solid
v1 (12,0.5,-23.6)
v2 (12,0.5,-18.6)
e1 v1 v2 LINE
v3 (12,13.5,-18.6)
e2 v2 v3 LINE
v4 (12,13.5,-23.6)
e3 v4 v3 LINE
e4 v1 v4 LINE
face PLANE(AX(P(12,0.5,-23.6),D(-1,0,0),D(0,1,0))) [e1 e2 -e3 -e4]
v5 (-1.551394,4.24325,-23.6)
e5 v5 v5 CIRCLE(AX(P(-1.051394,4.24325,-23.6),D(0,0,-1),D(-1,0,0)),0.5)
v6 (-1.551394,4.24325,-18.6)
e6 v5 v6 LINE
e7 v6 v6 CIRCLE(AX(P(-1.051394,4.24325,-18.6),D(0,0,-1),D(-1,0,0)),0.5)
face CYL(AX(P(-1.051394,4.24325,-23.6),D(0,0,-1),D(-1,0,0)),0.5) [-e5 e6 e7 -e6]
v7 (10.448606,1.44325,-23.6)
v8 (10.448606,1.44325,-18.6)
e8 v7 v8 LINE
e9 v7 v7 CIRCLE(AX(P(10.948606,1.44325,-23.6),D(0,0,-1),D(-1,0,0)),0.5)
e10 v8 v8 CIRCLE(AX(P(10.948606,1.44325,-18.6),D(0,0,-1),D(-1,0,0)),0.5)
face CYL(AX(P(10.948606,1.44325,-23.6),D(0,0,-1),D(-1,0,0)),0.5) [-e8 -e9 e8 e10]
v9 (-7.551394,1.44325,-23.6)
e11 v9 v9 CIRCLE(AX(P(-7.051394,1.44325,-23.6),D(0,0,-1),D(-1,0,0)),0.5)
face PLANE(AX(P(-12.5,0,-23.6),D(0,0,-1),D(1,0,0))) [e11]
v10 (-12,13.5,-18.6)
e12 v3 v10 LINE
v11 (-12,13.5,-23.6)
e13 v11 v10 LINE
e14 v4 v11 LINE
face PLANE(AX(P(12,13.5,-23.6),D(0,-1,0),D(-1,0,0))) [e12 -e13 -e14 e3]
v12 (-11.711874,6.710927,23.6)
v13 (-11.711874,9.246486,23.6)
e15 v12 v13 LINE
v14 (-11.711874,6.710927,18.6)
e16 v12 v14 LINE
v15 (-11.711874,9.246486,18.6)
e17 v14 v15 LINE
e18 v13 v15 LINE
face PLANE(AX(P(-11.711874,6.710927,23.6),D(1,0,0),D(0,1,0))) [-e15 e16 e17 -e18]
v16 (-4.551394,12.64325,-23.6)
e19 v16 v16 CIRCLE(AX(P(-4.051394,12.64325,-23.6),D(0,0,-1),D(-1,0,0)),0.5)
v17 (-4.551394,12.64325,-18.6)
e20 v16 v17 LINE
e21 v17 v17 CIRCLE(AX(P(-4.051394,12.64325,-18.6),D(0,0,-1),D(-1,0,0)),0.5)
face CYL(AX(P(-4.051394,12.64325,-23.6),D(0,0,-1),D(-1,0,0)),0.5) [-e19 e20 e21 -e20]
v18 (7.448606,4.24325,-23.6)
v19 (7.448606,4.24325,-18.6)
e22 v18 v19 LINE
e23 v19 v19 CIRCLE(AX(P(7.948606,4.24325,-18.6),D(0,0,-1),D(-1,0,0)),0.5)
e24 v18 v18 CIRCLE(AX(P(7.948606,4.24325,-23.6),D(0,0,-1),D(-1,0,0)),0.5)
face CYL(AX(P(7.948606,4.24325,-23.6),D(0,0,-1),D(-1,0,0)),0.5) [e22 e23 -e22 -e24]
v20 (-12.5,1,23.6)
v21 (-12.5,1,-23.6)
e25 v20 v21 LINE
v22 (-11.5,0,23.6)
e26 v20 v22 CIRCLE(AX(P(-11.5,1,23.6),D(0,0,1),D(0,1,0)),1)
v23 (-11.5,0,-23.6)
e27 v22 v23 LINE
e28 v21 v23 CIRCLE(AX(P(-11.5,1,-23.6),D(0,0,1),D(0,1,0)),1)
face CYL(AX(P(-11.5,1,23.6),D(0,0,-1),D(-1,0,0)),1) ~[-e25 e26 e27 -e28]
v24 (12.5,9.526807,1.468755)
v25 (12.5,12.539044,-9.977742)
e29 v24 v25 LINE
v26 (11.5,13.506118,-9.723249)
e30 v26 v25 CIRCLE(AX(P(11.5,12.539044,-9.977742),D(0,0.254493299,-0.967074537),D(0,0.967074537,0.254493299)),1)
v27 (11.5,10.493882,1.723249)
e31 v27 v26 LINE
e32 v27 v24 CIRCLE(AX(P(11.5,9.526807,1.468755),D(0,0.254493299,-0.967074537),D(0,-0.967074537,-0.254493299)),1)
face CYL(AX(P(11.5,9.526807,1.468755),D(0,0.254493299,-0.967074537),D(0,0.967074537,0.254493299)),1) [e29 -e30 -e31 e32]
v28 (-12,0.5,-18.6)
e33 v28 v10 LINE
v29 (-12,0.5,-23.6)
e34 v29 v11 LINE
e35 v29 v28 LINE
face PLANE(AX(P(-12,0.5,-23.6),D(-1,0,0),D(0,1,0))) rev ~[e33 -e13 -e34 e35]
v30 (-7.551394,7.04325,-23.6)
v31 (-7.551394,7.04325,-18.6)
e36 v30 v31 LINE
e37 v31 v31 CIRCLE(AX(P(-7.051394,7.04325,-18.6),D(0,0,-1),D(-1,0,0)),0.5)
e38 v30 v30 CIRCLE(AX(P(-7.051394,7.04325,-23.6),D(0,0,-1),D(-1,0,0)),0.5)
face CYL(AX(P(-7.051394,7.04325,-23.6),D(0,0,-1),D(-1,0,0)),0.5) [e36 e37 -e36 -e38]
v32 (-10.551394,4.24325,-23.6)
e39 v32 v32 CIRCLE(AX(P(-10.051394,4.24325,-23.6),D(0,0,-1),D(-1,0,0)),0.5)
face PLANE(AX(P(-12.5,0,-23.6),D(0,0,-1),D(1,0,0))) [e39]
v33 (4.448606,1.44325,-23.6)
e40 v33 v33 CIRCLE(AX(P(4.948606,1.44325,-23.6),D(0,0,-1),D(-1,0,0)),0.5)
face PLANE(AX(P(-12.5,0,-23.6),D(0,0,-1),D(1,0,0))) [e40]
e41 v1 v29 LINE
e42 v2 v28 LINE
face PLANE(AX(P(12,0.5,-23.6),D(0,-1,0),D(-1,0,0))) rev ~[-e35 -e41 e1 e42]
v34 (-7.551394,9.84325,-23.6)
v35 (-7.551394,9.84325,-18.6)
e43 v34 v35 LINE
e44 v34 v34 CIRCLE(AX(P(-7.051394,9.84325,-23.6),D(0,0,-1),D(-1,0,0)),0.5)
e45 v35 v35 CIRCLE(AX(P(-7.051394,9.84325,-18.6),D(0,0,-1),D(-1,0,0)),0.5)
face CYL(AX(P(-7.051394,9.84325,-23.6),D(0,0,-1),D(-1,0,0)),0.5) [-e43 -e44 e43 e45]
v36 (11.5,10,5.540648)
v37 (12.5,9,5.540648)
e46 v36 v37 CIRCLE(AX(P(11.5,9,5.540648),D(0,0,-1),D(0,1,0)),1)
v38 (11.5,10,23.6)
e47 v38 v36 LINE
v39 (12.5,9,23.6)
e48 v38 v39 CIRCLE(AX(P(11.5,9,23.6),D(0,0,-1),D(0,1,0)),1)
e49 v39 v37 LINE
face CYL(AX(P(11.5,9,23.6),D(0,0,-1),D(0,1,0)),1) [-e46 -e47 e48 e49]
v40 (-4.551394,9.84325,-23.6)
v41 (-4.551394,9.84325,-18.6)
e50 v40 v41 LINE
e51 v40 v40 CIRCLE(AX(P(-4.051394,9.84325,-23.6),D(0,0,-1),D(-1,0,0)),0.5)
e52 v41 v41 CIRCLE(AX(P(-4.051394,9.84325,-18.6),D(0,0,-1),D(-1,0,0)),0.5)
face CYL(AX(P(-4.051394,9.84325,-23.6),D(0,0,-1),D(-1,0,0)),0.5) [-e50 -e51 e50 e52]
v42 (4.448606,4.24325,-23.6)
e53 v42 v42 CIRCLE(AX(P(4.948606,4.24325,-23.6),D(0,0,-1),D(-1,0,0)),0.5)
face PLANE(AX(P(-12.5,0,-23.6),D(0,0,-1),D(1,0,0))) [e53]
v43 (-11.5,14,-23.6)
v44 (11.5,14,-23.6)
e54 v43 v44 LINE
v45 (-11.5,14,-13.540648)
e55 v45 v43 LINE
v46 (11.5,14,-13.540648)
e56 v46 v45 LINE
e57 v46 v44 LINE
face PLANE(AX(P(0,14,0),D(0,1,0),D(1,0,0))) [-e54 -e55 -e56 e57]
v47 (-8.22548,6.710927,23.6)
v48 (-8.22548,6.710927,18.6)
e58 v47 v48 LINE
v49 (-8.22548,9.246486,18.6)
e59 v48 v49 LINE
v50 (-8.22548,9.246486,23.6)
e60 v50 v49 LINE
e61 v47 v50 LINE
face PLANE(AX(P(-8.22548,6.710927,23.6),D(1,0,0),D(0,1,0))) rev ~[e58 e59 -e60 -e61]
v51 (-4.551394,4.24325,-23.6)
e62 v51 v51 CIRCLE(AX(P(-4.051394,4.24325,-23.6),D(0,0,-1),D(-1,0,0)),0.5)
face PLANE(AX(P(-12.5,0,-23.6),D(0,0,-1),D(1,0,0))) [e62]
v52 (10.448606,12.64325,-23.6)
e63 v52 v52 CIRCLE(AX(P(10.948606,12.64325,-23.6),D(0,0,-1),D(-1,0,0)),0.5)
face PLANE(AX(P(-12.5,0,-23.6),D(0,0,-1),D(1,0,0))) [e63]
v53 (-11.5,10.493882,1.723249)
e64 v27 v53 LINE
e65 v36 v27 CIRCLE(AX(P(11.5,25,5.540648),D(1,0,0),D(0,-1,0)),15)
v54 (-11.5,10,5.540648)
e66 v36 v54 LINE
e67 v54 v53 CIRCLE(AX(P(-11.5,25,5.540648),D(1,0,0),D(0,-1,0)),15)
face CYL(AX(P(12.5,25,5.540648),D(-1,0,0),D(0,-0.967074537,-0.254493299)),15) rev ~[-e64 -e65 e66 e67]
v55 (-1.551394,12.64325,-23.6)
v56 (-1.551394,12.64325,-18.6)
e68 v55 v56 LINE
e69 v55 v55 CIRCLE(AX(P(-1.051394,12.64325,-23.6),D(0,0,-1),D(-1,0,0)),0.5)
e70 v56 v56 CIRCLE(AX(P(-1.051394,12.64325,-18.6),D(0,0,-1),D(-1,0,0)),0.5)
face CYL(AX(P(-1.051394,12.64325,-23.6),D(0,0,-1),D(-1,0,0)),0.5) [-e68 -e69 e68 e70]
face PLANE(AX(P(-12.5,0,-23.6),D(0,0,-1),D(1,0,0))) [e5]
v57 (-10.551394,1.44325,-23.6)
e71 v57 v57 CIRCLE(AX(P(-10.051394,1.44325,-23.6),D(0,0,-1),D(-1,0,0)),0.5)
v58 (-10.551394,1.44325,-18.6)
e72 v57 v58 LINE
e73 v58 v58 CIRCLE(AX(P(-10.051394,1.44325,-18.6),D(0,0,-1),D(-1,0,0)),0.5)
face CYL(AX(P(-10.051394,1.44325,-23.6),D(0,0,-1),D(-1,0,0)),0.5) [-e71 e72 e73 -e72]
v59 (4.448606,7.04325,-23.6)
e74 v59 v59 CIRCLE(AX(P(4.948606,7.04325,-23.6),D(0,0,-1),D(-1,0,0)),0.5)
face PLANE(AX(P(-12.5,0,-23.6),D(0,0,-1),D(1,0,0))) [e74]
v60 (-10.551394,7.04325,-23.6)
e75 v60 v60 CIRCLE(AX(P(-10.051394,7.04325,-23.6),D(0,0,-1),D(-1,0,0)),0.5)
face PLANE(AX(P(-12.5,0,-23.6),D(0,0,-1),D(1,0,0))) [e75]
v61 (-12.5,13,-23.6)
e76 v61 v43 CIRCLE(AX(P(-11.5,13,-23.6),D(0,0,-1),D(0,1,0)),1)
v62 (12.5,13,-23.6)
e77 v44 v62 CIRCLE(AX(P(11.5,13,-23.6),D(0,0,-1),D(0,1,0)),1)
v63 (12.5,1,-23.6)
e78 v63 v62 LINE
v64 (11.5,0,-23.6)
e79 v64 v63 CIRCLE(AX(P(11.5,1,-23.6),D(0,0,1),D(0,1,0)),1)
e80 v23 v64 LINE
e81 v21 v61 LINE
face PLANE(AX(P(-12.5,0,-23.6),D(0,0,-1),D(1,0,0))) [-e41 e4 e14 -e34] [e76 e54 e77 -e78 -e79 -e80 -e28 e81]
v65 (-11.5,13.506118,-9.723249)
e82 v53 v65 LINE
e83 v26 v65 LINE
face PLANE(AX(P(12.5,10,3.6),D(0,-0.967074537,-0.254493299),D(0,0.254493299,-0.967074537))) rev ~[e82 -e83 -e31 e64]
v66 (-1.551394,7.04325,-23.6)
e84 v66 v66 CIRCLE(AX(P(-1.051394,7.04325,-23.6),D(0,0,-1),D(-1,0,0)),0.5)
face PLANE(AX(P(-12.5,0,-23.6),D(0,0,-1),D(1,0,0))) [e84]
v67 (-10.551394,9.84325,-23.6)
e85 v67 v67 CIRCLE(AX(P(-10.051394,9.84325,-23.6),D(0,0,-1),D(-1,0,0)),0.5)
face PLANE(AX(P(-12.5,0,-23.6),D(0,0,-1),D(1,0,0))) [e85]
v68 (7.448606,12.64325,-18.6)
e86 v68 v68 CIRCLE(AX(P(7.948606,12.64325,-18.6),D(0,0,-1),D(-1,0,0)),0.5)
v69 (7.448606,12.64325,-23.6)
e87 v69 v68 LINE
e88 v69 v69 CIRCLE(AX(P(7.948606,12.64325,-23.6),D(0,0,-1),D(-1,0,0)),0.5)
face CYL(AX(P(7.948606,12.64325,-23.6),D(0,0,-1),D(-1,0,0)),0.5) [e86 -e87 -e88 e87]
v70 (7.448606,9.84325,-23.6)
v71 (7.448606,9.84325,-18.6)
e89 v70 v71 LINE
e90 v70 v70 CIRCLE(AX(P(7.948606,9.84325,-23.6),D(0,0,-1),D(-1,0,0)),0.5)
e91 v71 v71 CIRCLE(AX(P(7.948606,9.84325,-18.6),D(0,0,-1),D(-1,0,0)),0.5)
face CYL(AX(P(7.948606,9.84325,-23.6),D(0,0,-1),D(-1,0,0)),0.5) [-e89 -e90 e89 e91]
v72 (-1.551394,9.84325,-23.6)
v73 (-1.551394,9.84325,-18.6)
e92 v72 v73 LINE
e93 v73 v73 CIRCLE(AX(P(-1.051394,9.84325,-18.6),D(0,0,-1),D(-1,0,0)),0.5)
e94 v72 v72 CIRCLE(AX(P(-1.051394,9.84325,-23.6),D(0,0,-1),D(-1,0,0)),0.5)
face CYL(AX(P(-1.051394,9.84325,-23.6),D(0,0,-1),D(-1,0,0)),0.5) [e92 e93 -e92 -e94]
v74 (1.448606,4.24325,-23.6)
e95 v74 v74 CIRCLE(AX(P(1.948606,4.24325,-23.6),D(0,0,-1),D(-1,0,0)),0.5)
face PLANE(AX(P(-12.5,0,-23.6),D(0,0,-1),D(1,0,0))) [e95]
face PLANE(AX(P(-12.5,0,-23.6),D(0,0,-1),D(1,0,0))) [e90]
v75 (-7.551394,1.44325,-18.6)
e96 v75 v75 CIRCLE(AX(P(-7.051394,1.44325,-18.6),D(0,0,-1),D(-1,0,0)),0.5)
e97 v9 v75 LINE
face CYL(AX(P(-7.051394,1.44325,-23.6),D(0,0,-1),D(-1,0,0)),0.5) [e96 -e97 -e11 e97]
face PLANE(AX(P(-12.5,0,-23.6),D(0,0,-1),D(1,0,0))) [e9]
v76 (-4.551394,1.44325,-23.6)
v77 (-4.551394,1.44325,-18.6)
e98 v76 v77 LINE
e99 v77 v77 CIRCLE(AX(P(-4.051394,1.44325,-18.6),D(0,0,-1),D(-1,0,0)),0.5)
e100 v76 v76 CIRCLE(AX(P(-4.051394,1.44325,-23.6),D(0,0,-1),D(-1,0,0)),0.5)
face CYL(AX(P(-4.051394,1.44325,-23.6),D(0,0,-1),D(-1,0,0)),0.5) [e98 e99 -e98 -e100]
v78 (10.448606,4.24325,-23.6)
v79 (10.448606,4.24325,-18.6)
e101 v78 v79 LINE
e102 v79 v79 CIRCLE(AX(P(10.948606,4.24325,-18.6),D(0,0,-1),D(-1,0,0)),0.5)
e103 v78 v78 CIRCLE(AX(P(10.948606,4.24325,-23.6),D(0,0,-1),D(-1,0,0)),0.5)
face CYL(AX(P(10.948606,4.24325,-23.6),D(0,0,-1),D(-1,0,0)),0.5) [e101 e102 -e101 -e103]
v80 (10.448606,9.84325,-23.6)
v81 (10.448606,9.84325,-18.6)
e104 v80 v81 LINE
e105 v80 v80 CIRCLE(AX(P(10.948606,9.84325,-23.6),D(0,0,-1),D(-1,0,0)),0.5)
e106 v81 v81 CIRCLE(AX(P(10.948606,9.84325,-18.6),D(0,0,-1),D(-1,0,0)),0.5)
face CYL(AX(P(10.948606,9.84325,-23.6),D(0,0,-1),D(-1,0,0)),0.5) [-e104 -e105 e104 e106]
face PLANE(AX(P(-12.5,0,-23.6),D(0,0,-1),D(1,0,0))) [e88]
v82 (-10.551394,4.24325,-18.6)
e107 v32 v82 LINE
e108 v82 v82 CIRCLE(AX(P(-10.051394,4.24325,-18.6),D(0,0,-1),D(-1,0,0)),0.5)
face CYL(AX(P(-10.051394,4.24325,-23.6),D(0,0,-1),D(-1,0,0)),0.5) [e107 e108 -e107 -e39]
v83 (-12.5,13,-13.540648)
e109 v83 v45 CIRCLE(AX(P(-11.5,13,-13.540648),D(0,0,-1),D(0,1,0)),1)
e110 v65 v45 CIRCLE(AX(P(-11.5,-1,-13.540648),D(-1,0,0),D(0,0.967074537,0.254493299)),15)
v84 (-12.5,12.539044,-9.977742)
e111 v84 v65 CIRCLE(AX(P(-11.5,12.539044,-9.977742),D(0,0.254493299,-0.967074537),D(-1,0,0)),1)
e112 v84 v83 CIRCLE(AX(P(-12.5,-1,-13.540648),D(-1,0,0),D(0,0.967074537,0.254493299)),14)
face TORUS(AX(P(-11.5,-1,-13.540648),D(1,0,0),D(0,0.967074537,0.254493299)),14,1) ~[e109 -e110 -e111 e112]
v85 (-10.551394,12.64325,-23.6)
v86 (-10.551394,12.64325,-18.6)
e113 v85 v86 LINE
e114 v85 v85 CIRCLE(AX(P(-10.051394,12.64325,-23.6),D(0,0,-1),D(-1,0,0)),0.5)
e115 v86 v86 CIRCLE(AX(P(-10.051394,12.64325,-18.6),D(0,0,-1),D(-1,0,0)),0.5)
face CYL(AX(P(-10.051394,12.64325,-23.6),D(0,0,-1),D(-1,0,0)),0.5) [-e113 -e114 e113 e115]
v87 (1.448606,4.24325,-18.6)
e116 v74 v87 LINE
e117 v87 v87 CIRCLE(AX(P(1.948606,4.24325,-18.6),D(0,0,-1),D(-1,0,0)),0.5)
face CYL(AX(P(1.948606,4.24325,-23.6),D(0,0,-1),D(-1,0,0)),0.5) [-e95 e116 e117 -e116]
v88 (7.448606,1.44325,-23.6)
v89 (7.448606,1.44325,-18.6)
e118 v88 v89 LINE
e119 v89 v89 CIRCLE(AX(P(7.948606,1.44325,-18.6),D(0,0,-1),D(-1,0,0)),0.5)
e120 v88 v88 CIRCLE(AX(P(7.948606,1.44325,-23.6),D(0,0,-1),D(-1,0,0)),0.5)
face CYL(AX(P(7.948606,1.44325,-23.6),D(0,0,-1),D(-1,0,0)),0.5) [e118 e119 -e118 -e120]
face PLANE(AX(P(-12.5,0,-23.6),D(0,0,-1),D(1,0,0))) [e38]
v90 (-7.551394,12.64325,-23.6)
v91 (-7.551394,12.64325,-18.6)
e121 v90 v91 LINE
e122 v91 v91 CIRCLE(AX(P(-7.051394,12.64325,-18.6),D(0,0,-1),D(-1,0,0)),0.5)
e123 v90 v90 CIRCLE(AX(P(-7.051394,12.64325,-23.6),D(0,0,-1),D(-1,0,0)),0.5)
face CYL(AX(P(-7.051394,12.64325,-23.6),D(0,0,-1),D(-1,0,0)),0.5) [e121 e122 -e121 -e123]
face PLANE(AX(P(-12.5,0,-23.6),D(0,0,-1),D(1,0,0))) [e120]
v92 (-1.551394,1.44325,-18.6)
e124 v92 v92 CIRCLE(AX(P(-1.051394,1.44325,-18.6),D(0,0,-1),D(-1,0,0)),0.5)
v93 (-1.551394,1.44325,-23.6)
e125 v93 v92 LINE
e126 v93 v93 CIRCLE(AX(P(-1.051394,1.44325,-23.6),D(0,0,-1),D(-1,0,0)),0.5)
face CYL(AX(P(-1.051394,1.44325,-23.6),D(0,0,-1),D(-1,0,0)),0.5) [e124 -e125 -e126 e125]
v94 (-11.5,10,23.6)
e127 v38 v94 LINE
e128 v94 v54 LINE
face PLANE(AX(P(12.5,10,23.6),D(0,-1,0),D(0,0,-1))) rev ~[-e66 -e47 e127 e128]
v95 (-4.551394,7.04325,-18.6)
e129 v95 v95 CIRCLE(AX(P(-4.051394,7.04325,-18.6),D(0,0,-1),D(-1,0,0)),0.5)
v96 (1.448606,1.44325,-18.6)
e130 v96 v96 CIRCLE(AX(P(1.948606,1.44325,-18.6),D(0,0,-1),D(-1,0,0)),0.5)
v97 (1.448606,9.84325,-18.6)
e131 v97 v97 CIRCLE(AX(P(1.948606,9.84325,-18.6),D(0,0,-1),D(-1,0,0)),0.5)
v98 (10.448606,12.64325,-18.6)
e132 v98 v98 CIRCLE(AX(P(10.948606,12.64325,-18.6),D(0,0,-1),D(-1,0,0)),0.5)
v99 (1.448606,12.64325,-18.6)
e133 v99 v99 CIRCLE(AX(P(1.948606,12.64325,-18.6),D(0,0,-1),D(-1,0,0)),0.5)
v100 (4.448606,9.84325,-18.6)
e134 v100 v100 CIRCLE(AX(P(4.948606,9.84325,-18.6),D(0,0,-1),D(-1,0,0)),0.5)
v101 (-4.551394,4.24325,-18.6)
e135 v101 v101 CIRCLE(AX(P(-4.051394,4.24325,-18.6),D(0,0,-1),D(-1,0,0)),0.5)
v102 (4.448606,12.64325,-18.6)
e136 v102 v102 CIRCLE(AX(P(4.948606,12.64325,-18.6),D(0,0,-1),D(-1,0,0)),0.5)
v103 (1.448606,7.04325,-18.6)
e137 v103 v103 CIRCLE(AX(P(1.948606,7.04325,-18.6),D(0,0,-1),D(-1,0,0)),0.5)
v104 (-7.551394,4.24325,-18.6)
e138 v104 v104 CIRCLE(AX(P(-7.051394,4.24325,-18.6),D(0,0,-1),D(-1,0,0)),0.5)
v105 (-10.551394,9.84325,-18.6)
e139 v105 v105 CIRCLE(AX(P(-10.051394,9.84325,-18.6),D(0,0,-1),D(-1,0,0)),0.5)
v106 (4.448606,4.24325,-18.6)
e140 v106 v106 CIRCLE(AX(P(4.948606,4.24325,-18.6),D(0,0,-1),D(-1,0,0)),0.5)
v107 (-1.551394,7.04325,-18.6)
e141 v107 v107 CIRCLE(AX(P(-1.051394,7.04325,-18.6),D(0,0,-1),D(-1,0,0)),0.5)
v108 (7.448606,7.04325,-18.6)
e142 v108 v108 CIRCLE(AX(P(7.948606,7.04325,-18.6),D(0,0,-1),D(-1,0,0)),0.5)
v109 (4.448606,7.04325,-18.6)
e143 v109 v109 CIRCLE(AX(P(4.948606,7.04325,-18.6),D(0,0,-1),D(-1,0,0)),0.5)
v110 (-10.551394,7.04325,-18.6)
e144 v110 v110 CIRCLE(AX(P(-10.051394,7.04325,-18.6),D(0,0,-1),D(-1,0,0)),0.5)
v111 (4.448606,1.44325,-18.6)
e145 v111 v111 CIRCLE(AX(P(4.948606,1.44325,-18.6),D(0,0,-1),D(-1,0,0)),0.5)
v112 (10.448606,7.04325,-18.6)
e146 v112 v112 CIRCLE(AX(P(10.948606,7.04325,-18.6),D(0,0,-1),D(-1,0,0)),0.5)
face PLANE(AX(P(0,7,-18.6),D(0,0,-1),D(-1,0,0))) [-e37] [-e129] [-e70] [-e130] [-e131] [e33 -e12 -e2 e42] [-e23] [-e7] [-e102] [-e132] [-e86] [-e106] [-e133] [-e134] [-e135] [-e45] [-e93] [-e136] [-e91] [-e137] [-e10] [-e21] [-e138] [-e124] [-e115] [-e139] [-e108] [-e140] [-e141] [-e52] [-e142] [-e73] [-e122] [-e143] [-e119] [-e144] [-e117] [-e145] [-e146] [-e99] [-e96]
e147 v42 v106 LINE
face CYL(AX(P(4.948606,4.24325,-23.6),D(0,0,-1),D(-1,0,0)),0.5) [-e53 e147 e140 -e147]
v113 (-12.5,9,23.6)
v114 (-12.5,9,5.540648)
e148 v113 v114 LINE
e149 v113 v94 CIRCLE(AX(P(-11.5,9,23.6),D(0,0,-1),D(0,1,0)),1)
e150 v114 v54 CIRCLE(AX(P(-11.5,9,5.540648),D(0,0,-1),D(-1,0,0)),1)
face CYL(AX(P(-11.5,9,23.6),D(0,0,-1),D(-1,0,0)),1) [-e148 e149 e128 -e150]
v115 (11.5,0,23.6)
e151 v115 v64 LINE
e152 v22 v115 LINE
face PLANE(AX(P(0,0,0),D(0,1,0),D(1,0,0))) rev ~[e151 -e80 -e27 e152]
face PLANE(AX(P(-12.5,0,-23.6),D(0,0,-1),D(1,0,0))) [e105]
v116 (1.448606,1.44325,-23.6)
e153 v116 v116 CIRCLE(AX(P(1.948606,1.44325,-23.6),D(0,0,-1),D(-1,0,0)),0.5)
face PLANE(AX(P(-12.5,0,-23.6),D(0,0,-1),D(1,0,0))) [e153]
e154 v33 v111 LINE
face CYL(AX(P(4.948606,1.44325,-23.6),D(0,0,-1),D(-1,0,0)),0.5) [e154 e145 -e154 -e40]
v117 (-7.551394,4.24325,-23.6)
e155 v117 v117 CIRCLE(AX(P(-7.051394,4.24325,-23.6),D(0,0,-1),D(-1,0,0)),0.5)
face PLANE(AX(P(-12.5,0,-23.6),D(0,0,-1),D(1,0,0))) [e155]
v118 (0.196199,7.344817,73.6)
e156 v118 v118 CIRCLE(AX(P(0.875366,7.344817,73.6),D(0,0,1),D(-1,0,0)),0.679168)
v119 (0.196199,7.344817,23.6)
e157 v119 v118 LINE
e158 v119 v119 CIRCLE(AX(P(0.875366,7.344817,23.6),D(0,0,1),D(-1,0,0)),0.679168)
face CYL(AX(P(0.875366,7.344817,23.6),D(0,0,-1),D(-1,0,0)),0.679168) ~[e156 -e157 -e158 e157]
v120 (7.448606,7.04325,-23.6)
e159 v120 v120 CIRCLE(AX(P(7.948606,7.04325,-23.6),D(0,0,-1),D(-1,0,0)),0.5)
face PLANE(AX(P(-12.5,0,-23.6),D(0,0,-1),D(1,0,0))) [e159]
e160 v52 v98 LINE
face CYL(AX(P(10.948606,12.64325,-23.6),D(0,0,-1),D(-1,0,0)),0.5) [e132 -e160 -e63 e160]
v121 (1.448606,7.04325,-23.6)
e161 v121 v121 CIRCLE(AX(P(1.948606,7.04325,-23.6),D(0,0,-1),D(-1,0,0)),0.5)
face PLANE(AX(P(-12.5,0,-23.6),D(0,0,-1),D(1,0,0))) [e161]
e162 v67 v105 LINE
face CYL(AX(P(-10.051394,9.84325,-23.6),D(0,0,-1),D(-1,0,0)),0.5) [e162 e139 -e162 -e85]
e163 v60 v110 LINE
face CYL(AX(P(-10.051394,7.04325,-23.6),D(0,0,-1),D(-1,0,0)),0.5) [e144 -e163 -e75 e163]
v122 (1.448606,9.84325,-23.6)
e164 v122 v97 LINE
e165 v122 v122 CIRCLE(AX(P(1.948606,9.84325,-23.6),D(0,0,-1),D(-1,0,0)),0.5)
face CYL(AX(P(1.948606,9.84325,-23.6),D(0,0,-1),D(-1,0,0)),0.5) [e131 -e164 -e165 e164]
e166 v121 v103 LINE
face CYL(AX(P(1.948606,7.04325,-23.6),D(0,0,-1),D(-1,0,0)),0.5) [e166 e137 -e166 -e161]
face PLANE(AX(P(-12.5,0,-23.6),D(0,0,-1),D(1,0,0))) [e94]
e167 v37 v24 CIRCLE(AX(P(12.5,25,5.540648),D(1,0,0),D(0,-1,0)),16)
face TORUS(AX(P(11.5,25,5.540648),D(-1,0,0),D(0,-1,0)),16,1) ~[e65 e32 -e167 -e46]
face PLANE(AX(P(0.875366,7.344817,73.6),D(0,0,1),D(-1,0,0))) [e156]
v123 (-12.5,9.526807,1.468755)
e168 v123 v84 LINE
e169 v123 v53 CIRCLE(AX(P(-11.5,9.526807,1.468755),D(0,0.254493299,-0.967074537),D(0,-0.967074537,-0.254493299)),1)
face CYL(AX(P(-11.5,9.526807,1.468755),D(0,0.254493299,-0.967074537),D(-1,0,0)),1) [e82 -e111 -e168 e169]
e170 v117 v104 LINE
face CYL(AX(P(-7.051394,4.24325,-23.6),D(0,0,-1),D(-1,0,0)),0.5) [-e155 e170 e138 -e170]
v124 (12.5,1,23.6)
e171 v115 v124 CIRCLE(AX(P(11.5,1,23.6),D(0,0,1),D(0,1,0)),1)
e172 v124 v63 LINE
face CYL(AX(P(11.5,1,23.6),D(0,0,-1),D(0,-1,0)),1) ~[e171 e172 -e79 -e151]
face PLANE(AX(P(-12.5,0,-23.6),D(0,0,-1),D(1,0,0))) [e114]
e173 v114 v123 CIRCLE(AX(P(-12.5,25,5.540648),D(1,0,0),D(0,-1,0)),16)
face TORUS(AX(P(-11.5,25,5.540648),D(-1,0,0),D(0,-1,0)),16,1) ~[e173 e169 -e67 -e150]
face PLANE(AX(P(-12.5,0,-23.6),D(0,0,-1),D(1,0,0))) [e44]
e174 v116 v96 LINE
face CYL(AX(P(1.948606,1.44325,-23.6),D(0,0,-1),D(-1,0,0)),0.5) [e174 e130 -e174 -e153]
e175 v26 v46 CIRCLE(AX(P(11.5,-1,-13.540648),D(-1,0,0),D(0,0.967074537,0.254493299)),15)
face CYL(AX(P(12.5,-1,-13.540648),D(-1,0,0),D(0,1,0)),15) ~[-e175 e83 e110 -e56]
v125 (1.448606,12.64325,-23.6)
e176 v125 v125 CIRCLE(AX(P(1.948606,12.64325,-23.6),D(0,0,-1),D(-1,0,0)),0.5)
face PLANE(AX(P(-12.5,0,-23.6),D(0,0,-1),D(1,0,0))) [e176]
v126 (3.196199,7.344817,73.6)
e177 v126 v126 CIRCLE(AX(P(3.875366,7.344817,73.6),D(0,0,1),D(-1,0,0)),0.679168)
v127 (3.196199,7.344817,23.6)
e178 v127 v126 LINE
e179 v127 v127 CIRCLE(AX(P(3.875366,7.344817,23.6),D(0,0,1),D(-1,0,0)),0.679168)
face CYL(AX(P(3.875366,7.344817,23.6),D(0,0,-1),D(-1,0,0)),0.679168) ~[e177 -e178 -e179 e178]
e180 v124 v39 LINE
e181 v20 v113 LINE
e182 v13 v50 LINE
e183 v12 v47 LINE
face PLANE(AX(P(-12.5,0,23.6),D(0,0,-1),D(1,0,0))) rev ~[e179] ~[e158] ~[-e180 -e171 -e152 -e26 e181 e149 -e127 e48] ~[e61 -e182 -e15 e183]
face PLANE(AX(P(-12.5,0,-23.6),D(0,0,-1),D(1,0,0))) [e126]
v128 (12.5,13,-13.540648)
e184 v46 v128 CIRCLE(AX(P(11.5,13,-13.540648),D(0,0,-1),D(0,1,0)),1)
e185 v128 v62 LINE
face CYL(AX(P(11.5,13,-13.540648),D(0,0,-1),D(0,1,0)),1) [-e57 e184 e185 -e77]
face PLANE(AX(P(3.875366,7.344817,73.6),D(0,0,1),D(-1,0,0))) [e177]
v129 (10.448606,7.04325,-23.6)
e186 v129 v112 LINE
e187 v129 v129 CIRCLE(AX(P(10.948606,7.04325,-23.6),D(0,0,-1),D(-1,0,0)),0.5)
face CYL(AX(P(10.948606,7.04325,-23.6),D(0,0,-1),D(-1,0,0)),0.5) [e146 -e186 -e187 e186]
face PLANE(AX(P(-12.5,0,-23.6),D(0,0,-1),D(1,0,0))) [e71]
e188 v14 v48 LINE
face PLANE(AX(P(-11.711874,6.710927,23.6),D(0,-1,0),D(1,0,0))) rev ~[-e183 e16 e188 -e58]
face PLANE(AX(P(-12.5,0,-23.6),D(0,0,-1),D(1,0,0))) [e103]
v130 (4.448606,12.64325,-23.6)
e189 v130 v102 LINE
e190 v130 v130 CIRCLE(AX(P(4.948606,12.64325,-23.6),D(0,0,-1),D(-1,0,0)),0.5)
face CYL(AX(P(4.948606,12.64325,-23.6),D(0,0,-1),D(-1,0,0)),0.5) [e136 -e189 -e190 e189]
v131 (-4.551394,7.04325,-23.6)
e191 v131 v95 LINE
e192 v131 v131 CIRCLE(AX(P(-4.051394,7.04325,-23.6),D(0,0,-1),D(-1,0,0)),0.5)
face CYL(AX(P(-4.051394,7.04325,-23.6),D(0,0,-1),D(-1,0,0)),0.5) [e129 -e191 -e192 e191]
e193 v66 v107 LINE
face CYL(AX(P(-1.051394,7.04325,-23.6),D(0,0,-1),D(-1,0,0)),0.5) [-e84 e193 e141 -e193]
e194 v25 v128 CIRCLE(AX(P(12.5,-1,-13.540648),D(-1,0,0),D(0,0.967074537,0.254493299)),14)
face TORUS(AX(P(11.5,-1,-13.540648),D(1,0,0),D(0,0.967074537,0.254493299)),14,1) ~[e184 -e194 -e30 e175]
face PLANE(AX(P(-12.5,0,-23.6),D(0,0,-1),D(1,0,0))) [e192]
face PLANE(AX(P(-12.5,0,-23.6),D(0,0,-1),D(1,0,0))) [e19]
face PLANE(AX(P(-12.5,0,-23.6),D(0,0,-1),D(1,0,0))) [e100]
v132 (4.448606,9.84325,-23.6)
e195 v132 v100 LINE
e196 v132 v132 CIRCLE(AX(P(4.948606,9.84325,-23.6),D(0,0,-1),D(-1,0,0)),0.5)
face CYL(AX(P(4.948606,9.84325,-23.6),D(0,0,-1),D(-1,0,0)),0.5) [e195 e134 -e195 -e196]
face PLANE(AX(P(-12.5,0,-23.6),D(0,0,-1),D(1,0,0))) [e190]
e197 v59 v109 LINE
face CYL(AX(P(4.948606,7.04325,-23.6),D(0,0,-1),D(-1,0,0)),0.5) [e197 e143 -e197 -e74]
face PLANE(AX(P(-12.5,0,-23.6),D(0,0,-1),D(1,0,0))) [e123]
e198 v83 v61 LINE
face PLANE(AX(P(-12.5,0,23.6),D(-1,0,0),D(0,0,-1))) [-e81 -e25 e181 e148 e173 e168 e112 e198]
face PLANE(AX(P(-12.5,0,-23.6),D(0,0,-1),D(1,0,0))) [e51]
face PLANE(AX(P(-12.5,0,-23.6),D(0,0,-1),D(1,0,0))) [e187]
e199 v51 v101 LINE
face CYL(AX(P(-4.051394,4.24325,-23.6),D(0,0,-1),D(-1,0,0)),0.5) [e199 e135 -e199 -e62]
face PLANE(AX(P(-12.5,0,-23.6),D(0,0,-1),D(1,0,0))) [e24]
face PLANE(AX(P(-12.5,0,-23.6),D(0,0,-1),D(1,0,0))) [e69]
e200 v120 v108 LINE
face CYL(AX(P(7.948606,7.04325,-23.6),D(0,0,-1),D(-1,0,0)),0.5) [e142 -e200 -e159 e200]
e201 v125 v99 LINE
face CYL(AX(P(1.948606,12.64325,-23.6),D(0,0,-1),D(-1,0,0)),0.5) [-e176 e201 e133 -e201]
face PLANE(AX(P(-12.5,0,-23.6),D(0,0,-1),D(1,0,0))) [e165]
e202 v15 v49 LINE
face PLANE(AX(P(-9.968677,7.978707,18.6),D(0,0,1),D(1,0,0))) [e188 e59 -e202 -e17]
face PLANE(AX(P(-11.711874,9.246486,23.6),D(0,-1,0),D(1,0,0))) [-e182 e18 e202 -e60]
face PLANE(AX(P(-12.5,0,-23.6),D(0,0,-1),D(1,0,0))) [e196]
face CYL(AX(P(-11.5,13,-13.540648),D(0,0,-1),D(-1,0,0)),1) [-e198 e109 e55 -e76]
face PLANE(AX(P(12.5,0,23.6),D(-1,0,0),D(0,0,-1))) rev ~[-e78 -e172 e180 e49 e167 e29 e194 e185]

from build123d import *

# Parameters (mm, degrees)
SKETCH_1_W          = 25
SKETCH_1_H          = 47.2
EXTRUDE_1_DEPTH     = 14
CUT_EXTRUDE_1_DEPTH = 38.12088361
FILLET_1_R          = 15
SKETCH_3_W          = 24
SKETCH_3_H          = 13
SKETCH_3_R          = 0.5
CUT_EXTRUDE_2_DEPTH = 5
SKETCH_4_W          = 3.486393911
SKETCH_4_H          = 2.535559208
CUT_EXTRUDE_3_DEPTH = 5
SKETCH_5_R          = 0.679167645
EXTRUDE_2_DEPTH     = 50
FILLET_2_R          = 1


with BuildPart() as part:
    # 草圖1 → 填料-伸長1 (new body)
    with BuildSketch(Plane(origin=(0, 0, 0), x_dir=(1, 0, 0), z_dir=(0, 1, 0))):
        Rectangle(SKETCH_1_W, SKETCH_1_H)
    extrude(amount=EXTRUDE_1_DEPTH)

    # 草圖2 → 除料-伸長1 (cut, through all)
    with BuildSketch(Plane(origin=(12.5, 0, 0), x_dir=(0, 0, -1), z_dir=(1, 0, 0))):
        Polygon((-23.6, 10), (-3.6, 10), (11.6, 14), (-23.6, 14), align=None)
    extrude(amount=-CUT_EXTRUDE_1_DEPTH, mode=Mode.SUBTRACT)

    # 圓角1
    fillet_1_edges = [part.edges().sort_by_distance(p)[0] for p in [
        (0, 14, -11.6),
        (0, 10, 3.6),
    ]]
    fillet(fillet_1_edges, radius=FILLET_1_R)

    # 草圖3 → 除料-伸長2 (cut)
    with BuildSketch(Plane(origin=(0, 0, -23.6), x_dir=(-1, 0, 0), z_dir=(0, 0, -1))):
        with Locations((0, 7)):
            Rectangle(SKETCH_3_W, SKETCH_3_H)
        with Locations((-10.948606137, 12.643250156)):
            Circle(SKETCH_3_R, mode=Mode.SUBTRACT)
        with Locations((-7.948606137, 12.643250156)):
            Circle(SKETCH_3_R, mode=Mode.SUBTRACT)
        with Locations((-4.948606137, 12.643250156)):
            Circle(SKETCH_3_R, mode=Mode.SUBTRACT)
        with Locations((-1.948606137, 12.643250156)):
            Circle(SKETCH_3_R, mode=Mode.SUBTRACT)
        with Locations((1.051393863, 12.643250156)):
            Circle(SKETCH_3_R, mode=Mode.SUBTRACT)
        with Locations((4.051393863, 12.643250156)):
            Circle(SKETCH_3_R, mode=Mode.SUBTRACT)
        with Locations((7.051393863, 12.643250156)):
            Circle(SKETCH_3_R, mode=Mode.SUBTRACT)
        with Locations((10.051393863, 12.643250156)):
            Circle(SKETCH_3_R, mode=Mode.SUBTRACT)
        with Locations((-7.948606137, 9.843250156)):
            Circle(SKETCH_3_R, mode=Mode.SUBTRACT)
        with Locations((-4.948606137, 9.843250156)):
            Circle(SKETCH_3_R, mode=Mode.SUBTRACT)
        with Locations((-1.948606137, 9.843250156)):
            Circle(SKETCH_3_R, mode=Mode.SUBTRACT)
        with Locations((1.051393863, 9.843250156)):
            Circle(SKETCH_3_R, mode=Mode.SUBTRACT)
        with Locations((4.051393863, 9.843250156)):
            Circle(SKETCH_3_R, mode=Mode.SUBTRACT)
        with Locations((7.051393863, 9.843250156)):
            Circle(SKETCH_3_R, mode=Mode.SUBTRACT)
        with Locations((10.051393863, 9.843250156)):
            Circle(SKETCH_3_R, mode=Mode.SUBTRACT)
        with Locations((-7.948606137, 7.043250156)):
            Circle(SKETCH_3_R, mode=Mode.SUBTRACT)
        with Locations((-4.948606137, 7.043250156)):
            Circle(SKETCH_3_R, mode=Mode.SUBTRACT)
        with Locations((-1.948606137, 7.043250156)):
            Circle(SKETCH_3_R, mode=Mode.SUBTRACT)
        with Locations((1.051393863, 7.043250156)):
            Circle(SKETCH_3_R, mode=Mode.SUBTRACT)
        with Locations((4.051393863, 7.043250156)):
            Circle(SKETCH_3_R, mode=Mode.SUBTRACT)
        with Locations((7.051393863, 7.043250156)):
            Circle(SKETCH_3_R, mode=Mode.SUBTRACT)
        with Locations((10.051393863, 7.043250156)):
            Circle(SKETCH_3_R, mode=Mode.SUBTRACT)
        with Locations((-7.948606137, 4.243250156)):
            Circle(SKETCH_3_R, mode=Mode.SUBTRACT)
        with Locations((-4.948606137, 4.243250156)):
            Circle(SKETCH_3_R, mode=Mode.SUBTRACT)
        with Locations((-1.948606137, 4.243250156)):
            Circle(SKETCH_3_R, mode=Mode.SUBTRACT)
        with Locations((1.051393863, 4.243250156)):
            Circle(SKETCH_3_R, mode=Mode.SUBTRACT)
        with Locations((4.051393863, 4.243250156)):
            Circle(SKETCH_3_R, mode=Mode.SUBTRACT)
        with Locations((7.051393863, 4.243250156)):
            Circle(SKETCH_3_R, mode=Mode.SUBTRACT)
        with Locations((10.051393863, 4.243250156)):
            Circle(SKETCH_3_R, mode=Mode.SUBTRACT)
        with Locations((-7.948606137, 1.443250156)):
            Circle(SKETCH_3_R, mode=Mode.SUBTRACT)
        with Locations((-4.948606137, 1.443250156)):
            Circle(SKETCH_3_R, mode=Mode.SUBTRACT)
        with Locations((-1.948606137, 1.443250156)):
            Circle(SKETCH_3_R, mode=Mode.SUBTRACT)
        with Locations((1.051393863, 1.443250156)):
            Circle(SKETCH_3_R, mode=Mode.SUBTRACT)
        with Locations((4.051393863, 1.443250156)):
            Circle(SKETCH_3_R, mode=Mode.SUBTRACT)
        with Locations((7.051393863, 1.443250156)):
            Circle(SKETCH_3_R, mode=Mode.SUBTRACT)
        with Locations((10.051393863, 1.443250156)):
            Circle(SKETCH_3_R, mode=Mode.SUBTRACT)
        with Locations((-10.948606137, 9.843250156)):
            Circle(SKETCH_3_R, mode=Mode.SUBTRACT)
        with Locations((-10.948606137, 7.043250156)):
            Circle(SKETCH_3_R, mode=Mode.SUBTRACT)
        with Locations((-10.948606137, 4.243250156)):
            Circle(SKETCH_3_R, mode=Mode.SUBTRACT)
        with Locations((-10.948606137, 1.443250156)):
            Circle(SKETCH_3_R, mode=Mode.SUBTRACT)
    extrude(amount=-CUT_EXTRUDE_2_DEPTH, mode=Mode.SUBTRACT)

    # 草圖4 → 除料-伸長3 (cut)
    with BuildSketch(Plane.XY.offset(23.6)):
        with Locations((-9.968677216, 7.978706613)):
            Rectangle(SKETCH_4_W, SKETCH_4_H)
    extrude(amount=-CUT_EXTRUDE_3_DEPTH, mode=Mode.SUBTRACT)

    # 草圖5 → 填料-伸長2 (add)
    with BuildSketch(Plane.XY.offset(23.6)):
        with Locations(Location((0.875366181, 7.344816811, 0), (0, 0, 180))):
            Circle(SKETCH_5_R)
        with Locations(Location((3.875366181, 7.344816811, 0), (0, 0, 180))):
            Circle(SKETCH_5_R)
    extrude(amount=EXTRUDE_2_DEPTH)

    # 圓角2
    fillet_2_edges = [part.edges().sort_by_distance(p)[0] for p in [
        (-12.5, 14, -18.570324057),
        (-12.5, 10, 14.570324057),
        (12.5, 10, 14.570324057),
        (12.5, 14, -18.570324057),
        (12.5, 12, -4),
        (12.5, 13.876017123, -11.616040476),
        (-12.5, 12, -4),
        (-12.5, 13.876017123, -11.616040476),
        (12.5, 10.123982877, 3.616040476),
        (-12.5, 10.123982877, 3.616040476),
        (-12.5, 0, 0),
        (12.5, 0, 0),
    ]]
    fillet(fillet_2_edges, radius=FILLET_2_R)


solid = part.part
